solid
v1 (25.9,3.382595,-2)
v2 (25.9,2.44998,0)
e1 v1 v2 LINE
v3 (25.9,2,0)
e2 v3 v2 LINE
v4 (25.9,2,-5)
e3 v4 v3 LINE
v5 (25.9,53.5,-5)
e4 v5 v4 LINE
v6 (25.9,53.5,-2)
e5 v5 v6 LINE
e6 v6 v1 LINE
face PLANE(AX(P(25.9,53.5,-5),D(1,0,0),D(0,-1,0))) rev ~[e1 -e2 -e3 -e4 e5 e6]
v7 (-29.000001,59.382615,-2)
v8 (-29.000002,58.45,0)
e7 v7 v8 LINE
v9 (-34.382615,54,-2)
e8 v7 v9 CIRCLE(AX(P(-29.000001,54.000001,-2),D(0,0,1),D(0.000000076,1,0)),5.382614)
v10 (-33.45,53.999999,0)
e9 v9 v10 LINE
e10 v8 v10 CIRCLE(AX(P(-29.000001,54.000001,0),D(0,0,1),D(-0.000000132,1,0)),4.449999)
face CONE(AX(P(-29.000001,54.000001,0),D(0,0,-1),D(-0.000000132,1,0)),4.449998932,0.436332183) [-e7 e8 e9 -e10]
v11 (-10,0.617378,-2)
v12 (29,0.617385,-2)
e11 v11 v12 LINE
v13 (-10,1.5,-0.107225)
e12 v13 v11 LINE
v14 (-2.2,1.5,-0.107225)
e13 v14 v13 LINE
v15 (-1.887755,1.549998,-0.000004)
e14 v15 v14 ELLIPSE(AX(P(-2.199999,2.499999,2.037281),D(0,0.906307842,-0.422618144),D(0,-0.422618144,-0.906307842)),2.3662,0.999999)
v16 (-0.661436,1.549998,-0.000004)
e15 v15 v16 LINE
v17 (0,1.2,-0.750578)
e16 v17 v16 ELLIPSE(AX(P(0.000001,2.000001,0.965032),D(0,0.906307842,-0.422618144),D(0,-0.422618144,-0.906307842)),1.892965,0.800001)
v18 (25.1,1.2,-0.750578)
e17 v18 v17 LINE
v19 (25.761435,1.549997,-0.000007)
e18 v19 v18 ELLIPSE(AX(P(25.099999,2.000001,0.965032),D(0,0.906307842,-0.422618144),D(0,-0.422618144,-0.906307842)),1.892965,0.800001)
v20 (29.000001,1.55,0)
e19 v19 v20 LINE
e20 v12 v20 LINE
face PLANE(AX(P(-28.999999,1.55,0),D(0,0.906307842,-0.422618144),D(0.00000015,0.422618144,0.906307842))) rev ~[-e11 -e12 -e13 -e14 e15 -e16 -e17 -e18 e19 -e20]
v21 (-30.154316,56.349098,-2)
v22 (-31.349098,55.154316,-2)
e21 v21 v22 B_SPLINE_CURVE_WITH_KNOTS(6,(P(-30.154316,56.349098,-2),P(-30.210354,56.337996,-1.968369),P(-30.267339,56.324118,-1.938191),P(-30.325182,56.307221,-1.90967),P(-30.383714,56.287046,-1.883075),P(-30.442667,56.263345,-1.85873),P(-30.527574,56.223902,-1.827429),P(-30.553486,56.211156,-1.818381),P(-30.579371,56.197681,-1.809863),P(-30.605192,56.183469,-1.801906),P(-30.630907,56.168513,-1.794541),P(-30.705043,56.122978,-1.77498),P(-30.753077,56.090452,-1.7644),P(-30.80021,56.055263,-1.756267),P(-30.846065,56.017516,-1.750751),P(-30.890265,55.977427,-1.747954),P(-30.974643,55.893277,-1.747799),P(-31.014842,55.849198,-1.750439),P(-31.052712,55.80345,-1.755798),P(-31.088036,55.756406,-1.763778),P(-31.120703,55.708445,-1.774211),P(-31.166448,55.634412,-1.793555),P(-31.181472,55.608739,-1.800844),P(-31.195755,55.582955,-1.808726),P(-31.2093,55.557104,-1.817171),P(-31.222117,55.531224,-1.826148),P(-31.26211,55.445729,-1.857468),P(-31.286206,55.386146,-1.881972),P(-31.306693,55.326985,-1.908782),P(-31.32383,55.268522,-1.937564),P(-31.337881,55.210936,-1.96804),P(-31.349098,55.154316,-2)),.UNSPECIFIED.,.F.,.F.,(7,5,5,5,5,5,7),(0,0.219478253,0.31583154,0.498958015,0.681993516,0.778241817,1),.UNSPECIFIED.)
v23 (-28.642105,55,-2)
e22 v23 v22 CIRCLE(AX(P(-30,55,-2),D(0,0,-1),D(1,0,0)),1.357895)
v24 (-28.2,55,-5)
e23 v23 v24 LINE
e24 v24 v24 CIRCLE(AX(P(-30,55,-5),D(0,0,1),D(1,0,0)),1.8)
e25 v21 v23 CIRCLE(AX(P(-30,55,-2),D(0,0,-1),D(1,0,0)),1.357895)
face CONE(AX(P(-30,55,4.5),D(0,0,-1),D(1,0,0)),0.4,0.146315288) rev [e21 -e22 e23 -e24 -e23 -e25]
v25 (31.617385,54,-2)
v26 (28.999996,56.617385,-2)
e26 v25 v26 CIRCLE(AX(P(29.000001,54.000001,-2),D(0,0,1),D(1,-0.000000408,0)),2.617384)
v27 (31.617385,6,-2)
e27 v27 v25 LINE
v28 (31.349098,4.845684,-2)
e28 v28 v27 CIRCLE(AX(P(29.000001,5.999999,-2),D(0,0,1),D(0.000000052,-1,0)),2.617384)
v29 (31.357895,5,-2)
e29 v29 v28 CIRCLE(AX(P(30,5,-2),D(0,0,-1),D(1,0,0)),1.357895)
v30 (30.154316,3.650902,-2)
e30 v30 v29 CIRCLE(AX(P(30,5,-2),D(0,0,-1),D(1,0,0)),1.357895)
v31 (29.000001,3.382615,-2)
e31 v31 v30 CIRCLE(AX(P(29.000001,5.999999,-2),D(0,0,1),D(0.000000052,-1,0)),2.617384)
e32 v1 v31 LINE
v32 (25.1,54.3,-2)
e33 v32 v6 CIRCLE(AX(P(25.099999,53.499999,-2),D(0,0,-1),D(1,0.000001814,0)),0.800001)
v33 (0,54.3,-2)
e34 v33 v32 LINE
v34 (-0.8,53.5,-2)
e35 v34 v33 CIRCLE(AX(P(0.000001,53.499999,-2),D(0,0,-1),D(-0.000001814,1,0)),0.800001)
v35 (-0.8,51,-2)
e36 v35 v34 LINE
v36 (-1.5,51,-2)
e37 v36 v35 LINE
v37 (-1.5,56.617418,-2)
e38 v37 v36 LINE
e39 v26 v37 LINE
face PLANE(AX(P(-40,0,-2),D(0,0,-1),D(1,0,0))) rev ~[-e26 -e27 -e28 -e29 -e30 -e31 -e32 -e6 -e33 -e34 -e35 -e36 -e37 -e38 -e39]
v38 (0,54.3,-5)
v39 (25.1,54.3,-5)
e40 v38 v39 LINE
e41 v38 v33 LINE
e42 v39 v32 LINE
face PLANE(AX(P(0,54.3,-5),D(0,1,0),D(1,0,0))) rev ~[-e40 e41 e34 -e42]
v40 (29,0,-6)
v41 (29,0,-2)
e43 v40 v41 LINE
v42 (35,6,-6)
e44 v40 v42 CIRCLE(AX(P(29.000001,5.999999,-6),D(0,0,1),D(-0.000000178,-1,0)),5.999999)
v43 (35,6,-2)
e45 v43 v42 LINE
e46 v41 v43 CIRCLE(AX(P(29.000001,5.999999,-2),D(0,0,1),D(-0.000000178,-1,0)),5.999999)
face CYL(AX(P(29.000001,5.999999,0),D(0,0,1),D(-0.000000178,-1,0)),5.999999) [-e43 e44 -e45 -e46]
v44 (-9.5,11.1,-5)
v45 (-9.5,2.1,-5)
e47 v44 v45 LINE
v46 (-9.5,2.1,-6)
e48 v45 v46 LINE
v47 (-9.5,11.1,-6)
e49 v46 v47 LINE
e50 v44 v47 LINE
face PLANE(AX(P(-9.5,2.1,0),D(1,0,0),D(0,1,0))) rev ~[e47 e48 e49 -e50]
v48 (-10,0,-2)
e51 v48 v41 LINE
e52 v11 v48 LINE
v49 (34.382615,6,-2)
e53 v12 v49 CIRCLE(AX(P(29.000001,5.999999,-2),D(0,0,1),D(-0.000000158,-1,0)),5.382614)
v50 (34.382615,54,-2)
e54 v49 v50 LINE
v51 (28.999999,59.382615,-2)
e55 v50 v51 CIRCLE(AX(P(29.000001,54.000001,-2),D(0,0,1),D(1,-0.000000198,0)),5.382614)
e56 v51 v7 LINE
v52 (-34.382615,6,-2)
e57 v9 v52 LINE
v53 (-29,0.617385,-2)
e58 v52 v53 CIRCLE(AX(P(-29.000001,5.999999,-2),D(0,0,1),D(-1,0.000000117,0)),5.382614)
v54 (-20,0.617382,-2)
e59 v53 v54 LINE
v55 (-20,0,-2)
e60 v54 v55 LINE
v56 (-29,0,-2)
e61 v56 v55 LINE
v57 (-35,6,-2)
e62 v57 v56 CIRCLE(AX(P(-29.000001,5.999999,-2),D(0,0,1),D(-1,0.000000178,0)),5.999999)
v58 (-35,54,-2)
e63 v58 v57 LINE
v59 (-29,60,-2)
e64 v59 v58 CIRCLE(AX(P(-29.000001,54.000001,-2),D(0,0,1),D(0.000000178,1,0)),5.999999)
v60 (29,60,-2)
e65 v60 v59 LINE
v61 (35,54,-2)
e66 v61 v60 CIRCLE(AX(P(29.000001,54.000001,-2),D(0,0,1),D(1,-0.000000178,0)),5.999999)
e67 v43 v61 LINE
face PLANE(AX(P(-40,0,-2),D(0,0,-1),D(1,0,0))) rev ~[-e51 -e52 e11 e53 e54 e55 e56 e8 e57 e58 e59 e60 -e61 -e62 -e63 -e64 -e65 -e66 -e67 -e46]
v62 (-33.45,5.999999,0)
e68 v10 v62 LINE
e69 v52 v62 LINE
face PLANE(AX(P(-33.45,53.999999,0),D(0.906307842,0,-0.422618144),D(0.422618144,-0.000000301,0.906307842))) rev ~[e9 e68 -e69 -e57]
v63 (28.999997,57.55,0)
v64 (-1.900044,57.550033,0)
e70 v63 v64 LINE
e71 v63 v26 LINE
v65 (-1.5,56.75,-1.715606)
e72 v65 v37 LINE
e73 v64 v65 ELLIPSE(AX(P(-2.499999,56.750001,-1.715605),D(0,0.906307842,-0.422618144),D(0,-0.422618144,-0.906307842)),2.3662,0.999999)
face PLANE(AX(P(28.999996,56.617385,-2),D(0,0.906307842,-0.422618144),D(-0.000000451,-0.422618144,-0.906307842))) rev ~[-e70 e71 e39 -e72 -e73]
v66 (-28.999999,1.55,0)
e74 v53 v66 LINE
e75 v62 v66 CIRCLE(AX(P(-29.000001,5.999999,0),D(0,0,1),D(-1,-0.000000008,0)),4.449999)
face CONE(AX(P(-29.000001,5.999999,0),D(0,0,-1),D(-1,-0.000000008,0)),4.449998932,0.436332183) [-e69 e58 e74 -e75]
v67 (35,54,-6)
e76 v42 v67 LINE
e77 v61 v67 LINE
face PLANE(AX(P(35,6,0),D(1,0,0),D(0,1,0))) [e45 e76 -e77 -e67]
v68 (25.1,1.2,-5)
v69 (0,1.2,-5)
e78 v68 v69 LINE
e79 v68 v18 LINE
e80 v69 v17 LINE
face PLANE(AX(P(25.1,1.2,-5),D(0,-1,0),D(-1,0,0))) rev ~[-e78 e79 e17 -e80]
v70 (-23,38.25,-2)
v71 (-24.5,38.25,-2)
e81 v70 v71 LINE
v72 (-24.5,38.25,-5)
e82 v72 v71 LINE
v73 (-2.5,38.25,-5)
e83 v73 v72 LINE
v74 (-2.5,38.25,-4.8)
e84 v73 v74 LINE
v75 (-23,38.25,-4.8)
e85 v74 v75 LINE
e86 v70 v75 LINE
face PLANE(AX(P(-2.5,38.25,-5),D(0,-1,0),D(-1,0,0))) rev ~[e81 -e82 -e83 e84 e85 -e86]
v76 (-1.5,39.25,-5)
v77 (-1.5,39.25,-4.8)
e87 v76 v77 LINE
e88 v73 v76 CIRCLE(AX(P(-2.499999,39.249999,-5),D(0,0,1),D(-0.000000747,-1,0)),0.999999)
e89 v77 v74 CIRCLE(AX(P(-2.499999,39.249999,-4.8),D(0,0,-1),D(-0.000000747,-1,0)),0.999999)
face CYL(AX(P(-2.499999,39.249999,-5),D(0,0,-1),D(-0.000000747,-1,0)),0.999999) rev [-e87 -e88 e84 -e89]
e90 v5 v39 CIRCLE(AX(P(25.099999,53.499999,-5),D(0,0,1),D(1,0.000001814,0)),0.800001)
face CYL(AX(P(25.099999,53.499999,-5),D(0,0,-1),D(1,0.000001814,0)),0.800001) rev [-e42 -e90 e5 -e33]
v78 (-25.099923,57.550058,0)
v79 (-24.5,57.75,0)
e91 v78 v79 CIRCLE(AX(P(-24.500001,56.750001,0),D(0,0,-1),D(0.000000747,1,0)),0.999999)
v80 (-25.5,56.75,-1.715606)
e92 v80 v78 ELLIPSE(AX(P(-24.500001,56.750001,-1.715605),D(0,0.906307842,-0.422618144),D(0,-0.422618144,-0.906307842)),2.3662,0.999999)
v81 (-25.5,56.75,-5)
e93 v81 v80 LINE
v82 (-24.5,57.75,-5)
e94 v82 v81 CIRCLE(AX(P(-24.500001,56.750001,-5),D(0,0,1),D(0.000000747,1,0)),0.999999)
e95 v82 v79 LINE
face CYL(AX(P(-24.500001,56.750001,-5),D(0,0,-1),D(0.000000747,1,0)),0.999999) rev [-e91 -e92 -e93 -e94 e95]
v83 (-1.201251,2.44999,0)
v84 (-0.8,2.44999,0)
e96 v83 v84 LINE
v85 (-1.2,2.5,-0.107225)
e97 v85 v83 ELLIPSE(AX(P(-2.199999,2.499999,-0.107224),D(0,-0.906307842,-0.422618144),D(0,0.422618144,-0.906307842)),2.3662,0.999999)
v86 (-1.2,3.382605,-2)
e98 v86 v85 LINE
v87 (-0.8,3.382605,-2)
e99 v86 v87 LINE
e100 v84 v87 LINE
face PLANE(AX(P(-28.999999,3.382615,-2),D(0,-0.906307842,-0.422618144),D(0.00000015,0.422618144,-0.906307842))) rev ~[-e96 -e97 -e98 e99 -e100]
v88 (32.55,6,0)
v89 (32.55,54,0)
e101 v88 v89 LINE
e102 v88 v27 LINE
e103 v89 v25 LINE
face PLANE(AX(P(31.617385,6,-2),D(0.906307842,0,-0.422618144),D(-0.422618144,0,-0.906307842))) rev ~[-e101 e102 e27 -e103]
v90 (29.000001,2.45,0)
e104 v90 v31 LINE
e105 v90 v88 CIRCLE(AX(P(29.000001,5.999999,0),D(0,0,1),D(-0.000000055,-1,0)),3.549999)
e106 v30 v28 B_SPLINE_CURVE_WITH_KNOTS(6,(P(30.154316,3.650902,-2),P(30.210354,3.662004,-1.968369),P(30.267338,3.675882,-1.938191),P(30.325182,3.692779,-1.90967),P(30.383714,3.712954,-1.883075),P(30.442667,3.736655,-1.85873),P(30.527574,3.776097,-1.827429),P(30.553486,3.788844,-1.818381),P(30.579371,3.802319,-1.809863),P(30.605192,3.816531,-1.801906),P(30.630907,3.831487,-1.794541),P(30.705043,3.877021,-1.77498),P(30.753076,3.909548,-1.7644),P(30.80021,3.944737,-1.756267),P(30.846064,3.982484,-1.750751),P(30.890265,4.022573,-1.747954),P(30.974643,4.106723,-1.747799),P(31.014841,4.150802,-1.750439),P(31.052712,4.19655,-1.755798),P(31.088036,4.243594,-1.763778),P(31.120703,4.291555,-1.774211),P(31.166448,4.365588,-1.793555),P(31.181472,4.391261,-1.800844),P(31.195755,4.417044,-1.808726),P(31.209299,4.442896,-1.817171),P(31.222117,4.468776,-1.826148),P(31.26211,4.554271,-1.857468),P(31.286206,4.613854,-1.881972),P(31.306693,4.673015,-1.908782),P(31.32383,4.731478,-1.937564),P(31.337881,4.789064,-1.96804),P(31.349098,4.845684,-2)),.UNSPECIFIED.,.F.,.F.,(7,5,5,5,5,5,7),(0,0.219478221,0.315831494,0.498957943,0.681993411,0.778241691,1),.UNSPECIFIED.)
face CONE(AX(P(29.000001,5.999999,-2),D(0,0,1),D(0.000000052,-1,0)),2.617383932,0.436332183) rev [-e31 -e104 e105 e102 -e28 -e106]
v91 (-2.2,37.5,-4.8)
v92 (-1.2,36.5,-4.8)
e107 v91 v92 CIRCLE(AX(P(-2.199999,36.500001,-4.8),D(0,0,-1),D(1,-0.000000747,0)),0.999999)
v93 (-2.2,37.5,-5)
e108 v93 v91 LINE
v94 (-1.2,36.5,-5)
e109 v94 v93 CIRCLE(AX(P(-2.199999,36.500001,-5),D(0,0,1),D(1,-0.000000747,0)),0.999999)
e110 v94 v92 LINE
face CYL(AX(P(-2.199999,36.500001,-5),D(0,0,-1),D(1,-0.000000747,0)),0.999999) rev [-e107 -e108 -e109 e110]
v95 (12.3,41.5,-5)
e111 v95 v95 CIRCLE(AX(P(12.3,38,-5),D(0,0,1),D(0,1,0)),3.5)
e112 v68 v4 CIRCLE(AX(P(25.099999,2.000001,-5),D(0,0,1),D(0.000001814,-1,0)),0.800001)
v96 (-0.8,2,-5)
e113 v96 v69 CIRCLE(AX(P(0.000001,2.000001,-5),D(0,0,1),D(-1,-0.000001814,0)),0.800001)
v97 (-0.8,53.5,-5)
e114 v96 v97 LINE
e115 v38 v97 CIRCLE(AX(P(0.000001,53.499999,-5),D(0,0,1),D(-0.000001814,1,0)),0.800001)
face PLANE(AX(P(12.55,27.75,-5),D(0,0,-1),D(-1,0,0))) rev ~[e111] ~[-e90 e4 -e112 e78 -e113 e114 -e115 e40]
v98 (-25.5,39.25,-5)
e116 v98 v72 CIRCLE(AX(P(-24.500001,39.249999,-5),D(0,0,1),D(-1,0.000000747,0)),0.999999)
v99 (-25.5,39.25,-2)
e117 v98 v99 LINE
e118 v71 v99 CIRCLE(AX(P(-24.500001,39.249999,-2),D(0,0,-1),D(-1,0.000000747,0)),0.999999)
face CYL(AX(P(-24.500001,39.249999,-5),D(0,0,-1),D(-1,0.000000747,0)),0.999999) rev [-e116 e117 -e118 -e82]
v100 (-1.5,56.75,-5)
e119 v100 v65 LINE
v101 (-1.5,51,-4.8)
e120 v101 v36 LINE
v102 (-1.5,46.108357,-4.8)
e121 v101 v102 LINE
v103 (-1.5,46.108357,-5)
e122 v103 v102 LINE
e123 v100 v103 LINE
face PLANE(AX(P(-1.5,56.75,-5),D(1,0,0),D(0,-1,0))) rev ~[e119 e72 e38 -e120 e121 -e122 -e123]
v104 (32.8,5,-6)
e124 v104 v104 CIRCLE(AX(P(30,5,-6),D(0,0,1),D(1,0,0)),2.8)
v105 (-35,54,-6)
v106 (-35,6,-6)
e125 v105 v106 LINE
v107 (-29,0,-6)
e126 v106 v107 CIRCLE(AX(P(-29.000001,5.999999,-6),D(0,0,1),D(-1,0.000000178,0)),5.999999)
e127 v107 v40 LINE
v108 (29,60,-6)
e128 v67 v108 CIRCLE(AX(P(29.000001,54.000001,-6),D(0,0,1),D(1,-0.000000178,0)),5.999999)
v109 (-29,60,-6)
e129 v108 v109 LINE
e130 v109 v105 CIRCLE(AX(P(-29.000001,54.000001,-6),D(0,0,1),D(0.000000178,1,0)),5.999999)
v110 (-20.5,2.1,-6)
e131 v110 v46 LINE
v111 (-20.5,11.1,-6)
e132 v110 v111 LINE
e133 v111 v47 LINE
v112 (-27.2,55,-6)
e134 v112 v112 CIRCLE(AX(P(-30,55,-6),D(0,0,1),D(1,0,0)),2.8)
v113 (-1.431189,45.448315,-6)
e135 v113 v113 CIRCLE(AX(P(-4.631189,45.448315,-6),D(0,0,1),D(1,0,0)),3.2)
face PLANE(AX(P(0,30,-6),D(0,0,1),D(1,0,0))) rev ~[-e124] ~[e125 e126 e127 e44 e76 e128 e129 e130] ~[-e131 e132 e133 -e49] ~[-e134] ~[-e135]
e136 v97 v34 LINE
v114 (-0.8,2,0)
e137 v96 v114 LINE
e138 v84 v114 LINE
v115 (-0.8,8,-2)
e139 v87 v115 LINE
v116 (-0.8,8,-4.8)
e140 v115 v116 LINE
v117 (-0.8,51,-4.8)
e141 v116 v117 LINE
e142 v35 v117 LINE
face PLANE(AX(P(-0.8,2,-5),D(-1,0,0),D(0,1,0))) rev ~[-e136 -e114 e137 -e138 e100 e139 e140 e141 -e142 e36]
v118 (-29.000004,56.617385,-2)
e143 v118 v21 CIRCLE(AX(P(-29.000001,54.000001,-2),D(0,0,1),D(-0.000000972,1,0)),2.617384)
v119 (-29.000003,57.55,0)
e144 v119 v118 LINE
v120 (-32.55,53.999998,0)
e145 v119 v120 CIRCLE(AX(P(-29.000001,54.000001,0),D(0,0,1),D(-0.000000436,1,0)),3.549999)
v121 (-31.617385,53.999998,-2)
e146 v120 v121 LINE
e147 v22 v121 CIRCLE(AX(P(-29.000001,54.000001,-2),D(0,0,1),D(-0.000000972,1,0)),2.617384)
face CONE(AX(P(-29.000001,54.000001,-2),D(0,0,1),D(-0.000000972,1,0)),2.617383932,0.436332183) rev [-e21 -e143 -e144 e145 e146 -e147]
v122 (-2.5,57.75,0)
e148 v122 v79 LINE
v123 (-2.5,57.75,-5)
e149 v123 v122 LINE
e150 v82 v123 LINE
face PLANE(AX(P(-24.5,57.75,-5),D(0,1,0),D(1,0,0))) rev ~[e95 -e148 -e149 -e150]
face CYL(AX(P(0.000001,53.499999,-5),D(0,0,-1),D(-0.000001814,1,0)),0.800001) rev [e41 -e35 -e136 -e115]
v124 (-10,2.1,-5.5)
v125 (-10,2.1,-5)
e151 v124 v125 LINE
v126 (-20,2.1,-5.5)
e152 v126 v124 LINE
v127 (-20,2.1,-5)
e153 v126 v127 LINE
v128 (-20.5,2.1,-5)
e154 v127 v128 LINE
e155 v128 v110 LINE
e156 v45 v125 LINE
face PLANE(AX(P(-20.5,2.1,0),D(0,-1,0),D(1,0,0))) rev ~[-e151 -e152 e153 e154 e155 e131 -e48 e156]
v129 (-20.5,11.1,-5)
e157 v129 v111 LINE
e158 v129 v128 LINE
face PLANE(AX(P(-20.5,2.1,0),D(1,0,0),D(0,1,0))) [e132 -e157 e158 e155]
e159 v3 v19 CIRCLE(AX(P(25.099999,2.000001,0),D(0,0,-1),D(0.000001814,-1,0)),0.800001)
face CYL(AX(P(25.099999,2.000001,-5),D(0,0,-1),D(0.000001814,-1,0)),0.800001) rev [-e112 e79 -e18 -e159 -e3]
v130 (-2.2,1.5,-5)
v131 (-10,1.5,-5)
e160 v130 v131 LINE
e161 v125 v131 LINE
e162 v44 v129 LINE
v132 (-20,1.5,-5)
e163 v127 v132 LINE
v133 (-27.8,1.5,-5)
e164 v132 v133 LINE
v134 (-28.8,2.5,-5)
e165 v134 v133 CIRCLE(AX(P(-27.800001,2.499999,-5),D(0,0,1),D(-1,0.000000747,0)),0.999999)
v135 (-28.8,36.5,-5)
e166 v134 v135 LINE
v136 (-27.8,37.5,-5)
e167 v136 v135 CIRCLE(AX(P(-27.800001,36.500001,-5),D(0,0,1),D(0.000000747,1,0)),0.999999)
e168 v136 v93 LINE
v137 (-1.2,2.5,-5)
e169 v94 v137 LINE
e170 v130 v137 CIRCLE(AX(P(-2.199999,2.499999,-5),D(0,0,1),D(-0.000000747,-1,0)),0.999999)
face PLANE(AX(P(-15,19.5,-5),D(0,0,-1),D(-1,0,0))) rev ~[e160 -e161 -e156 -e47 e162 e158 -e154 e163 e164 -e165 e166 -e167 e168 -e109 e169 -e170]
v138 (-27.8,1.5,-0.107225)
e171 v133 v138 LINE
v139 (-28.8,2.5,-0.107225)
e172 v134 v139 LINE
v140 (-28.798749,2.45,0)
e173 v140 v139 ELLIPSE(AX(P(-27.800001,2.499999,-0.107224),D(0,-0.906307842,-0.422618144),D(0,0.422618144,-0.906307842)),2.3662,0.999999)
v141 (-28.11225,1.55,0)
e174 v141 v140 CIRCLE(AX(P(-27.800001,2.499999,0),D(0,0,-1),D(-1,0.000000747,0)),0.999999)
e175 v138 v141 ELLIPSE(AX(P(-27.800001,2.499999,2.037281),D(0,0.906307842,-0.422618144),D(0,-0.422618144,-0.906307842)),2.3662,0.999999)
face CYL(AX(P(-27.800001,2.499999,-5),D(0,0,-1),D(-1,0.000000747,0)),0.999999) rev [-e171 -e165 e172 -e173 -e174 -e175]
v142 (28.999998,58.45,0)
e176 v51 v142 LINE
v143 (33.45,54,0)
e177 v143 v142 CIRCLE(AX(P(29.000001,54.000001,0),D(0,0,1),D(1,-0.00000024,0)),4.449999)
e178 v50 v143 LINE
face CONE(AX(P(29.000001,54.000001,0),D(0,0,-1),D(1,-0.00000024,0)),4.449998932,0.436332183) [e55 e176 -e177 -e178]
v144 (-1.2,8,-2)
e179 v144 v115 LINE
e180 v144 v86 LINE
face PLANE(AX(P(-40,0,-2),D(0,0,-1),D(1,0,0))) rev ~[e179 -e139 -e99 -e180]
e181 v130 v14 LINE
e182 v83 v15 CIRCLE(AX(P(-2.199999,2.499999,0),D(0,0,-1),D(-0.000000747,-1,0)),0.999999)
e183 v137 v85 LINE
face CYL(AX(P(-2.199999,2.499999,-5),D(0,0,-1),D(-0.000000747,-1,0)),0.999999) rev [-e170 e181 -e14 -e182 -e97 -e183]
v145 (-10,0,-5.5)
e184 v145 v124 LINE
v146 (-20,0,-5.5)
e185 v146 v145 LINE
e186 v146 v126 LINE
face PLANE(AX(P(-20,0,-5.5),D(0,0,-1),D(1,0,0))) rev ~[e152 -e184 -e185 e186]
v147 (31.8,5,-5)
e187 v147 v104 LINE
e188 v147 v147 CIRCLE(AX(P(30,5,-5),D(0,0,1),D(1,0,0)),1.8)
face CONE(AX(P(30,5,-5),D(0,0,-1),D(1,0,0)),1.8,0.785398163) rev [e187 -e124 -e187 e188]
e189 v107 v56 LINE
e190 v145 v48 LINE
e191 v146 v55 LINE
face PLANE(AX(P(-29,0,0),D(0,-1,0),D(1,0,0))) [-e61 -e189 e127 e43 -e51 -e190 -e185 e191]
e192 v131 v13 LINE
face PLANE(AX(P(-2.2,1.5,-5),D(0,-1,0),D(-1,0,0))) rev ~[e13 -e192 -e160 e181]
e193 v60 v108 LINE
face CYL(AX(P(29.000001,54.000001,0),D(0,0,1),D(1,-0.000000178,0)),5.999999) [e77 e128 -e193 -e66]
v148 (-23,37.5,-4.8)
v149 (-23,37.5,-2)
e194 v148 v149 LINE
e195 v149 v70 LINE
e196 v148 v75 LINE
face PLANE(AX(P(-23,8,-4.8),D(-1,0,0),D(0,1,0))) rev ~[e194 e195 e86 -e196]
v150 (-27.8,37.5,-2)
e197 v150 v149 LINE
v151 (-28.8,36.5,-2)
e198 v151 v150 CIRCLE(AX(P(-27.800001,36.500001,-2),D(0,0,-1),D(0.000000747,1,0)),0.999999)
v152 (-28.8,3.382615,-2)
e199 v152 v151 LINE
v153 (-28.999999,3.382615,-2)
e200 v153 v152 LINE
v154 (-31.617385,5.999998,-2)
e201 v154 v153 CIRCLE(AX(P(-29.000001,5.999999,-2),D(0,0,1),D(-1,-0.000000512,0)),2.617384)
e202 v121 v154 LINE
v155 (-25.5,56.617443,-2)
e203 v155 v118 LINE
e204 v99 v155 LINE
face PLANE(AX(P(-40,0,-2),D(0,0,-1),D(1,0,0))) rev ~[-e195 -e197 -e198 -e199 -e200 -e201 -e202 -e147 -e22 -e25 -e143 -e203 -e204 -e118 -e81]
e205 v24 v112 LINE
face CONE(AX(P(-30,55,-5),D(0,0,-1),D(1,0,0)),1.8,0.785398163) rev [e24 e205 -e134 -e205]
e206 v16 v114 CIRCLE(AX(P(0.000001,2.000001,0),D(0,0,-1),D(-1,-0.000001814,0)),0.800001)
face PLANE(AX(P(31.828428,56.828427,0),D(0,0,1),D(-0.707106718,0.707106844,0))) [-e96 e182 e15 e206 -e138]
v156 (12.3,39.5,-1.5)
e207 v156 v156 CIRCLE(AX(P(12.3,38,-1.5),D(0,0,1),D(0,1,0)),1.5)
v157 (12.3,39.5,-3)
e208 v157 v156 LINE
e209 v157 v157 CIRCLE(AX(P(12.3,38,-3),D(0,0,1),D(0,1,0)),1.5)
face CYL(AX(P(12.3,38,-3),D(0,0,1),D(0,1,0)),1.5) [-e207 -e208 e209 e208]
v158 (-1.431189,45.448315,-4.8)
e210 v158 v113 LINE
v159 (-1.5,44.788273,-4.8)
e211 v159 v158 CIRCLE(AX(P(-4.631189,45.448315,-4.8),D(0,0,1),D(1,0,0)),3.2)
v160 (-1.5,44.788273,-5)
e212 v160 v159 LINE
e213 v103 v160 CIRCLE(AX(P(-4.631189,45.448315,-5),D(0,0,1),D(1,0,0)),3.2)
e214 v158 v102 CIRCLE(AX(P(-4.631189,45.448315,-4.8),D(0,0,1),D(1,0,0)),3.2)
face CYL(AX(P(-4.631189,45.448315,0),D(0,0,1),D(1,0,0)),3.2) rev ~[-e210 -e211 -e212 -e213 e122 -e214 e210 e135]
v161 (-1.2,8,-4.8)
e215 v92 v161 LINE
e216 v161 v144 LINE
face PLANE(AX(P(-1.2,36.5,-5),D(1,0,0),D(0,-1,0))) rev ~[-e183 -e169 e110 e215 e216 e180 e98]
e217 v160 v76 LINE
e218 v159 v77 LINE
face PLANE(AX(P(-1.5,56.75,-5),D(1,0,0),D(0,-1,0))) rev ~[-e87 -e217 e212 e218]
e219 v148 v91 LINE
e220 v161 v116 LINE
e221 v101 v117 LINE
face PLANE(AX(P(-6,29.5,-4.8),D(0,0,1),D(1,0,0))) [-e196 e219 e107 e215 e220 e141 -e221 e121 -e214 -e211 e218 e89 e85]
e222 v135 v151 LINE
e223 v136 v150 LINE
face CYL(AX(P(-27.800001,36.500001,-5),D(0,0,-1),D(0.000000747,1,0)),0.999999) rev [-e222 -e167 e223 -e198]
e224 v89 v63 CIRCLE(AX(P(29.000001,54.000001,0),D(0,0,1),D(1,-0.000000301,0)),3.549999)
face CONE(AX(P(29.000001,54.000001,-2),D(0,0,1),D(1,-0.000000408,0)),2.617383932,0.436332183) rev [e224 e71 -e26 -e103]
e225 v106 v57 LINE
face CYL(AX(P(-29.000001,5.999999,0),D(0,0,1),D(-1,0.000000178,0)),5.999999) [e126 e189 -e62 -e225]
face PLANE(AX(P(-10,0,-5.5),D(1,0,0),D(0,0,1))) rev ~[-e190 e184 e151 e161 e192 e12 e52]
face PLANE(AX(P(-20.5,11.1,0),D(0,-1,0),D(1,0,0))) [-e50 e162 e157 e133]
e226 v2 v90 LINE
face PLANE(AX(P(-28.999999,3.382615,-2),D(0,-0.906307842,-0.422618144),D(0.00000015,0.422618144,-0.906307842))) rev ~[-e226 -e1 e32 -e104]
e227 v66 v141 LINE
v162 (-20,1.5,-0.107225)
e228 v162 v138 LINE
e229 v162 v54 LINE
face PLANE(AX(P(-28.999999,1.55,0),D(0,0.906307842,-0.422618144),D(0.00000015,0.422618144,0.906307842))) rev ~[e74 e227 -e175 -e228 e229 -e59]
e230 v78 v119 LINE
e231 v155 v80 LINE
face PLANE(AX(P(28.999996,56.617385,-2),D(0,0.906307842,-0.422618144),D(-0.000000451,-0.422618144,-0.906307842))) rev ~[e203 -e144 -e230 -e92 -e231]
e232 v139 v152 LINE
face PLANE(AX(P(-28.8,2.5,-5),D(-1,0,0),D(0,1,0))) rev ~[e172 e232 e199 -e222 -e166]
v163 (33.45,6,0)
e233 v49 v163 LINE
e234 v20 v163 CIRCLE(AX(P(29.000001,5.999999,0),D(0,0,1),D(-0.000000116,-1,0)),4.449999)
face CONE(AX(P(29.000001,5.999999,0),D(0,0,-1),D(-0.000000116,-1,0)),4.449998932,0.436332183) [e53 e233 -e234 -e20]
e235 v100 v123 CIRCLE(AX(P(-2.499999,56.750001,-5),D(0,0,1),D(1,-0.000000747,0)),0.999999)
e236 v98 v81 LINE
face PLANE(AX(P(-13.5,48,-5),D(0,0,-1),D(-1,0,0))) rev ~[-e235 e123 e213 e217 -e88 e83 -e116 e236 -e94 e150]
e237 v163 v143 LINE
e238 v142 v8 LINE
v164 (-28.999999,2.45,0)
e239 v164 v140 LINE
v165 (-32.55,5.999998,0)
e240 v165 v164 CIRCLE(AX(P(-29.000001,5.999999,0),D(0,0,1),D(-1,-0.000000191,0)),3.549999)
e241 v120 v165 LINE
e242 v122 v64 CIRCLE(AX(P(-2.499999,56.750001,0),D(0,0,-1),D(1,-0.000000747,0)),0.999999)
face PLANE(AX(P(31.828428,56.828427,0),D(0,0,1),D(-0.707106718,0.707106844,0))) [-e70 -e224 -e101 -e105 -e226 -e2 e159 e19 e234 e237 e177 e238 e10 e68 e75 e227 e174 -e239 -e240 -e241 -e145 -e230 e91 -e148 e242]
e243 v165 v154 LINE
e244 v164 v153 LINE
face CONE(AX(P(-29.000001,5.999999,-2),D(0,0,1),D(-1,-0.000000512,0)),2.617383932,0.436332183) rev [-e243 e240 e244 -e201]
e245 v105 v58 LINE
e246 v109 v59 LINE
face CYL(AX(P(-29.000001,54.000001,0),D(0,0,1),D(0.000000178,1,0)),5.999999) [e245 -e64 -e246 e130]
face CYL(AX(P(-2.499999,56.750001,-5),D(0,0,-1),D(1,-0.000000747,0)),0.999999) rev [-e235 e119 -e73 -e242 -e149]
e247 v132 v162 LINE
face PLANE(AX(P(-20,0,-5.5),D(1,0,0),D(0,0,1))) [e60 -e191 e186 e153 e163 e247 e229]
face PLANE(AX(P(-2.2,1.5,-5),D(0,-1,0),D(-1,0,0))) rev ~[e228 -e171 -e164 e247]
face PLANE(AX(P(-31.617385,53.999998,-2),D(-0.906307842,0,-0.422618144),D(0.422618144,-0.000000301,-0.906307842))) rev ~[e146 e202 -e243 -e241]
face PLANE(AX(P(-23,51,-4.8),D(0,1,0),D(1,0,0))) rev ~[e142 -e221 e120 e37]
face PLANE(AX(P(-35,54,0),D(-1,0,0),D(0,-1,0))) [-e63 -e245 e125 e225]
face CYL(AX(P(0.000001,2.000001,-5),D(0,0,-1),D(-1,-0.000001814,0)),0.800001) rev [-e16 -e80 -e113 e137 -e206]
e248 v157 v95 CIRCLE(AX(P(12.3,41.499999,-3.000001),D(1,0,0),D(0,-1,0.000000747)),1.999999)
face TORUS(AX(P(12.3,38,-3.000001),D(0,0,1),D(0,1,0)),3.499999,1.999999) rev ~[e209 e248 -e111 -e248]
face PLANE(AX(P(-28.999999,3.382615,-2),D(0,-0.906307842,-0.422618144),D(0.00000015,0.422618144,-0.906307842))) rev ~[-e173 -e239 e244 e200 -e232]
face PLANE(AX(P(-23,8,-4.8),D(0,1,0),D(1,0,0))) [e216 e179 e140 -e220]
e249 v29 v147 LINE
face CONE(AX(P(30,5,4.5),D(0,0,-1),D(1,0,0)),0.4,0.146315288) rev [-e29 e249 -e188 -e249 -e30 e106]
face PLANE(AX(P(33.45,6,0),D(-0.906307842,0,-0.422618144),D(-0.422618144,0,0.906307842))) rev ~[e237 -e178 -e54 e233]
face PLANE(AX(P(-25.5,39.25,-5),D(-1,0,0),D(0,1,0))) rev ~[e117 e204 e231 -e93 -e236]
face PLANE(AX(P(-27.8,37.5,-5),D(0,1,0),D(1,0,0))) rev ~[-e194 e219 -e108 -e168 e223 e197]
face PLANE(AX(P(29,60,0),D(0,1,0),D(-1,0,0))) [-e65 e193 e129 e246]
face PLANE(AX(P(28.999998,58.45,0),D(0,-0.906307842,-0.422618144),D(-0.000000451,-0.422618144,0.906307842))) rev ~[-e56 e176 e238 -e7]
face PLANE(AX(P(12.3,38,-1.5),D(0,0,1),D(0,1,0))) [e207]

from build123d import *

# Parameters (mm, degrees)
PAD015_DEPTH         = 6
SKETCH035_W          = 80
SKETCH035_H          = 14
POCKET011_DEPTH      = 60.001
POCKET011_DEPTH_BACK = 0.001
POCKET020_DEPTH      = 5.001
POCKET021_DEPTH      = 5.001
POCKET022_DEPTH      = 5.001
SKETCH054_W          = 34
SKETCH054_H          = 43
POCKET023_DEPTH      = 4.801
SKETCH055_R          = 3.2
POCKET024_DEPTH      = 6.001
SKETCH056_W          = 11
SKETCH056_H          = 9
POCKET025_DEPTH      = 6.001
SKETCH057_W          = 10
SKETCH057_H          = 8
POCKET026_DEPTH      = 5


with BuildPart() as part:
    # Sketch033 → Pad015 (new body, symmetric)
    with BuildSketch(Plane.XY):
        with BuildLine():
            Line((29, 60), (-29, 60))
            ThreePointArc((-29, 60), (-33.242641, 58.242641), (-35, 54))
            Line((-35, 54), (-35, 6))
            ThreePointArc((-35, 6), (-33.242641, 1.757359), (-29, 0))
            Line((-29, 0), (29, 0))
            ThreePointArc((29, 0), (33.242641, 1.757359), (35, 6))
            Line((35, 6), (35, 54))
            ThreePointArc((35, 54), (33.242641, 58.242641), (29, 60))
        make_face()
    extrude(amount=PAD015_DEPTH, both=True)

    # Sketch035 → Pocket011 (cut, two sides)
    with BuildSketch(Plane.XZ) as pocket011_sk:
        with Locations((0, 5)):
            Rectangle(SKETCH035_W, SKETCH035_H)
    extrude(amount=-POCKET011_DEPTH, mode=Mode.SUBTRACT)
    extrude(pocket011_sk.sketch, amount=POCKET011_DEPTH_BACK, mode=Mode.SUBTRACT)

    # AdditivePipe: sweep along a path in Sketch033
    with BuildLine(Plane.XY) as additivepipe_path:
        Line((29, 60), (-29, 60))
        ThreePointArc((-29, 60), (-33.242641, 58.242641), (-35, 54))
        Line((-35, 54), (-35, 6))
        ThreePointArc((-35, 6), (-33.242641, 1.757359), (-29, 0))
        Line((-29, 0), (29, 0))
        ThreePointArc((29, 0), (33.242641, 1.757359), (35, 6))
        Line((35, 6), (35, 54))
        ThreePointArc((35, 54), (33.242641, 58.242641), (29, 60))
    # Sketch058 → AdditivePipe (sweep)
    with BuildSketch(Plane.XZ.offset(-30)):
        Polygon((34.382615, -2), (31.617385, -2), (32.55, 0), (33.45, 0), align=None)
    sweep(path=additivepipe_path.line)

    # Sketch050 → Pocket020 (cut, through all)
    with BuildSketch(Plane.XY.offset(-5)):
        with BuildLine():
            Line((0, 54.3), (25.1, 54.3))
            ThreePointArc((25.9, 53.5), (25.665685, 54.065685), (25.1, 54.3))
            Line((25.9, 53.5), (25.9, 2))
            ThreePointArc((25.1, 1.2), (25.665685, 1.434315), (25.9, 2))
            Line((25.1, 1.2), (0, 1.2))
            ThreePointArc((-0.8, 2), (-0.565685, 1.434315), (0, 1.2))
            Line((-0.8, 2), (-0.8, 53.5))
            ThreePointArc((0, 54.3), (-0.565685, 54.065685), (-0.8, 53.5))
        make_face()
    extrude(amount=POCKET020_DEPTH, mode=Mode.SUBTRACT)

    # Sketch052 → Pocket021 (cut, through all)
    with BuildSketch(Plane(origin=(0, -6, -5), x_dir=(1, 0, 0), z_dir=(0, 0, 1))):
        with BuildLine():
            Line((-27.8, 43.5), (-2.2, 43.5))
            ThreePointArc((-1.2, 42.5), (-1.492893, 43.207107), (-2.2, 43.5))
            Line((-1.2, 42.5), (-1.2, 8.5))
            ThreePointArc((-2.2, 7.5), (-1.492893, 7.792893), (-1.2, 8.5))
            Line((-2.2, 7.5), (-27.8, 7.5))
            ThreePointArc((-28.8, 8.5), (-28.507107, 7.792893), (-27.8, 7.5))
            Line((-28.8, 8.5), (-28.8, 42.5))
            ThreePointArc((-27.8, 43.5), (-28.507107, 43.207107), (-28.8, 42.5))
        make_face()
    extrude(amount=POCKET021_DEPTH, mode=Mode.SUBTRACT)

    # Sketch051 → Pocket022 (cut, through all)
    with BuildSketch(Plane(origin=(0, -6, -5), x_dir=(1, 0, 0), z_dir=(0, 0, 1))):
        with BuildLine():
            Line((-24.5, 63.75), (-2.5, 63.75))
            ThreePointArc((-1.5, 62.75), (-1.792893, 63.457107), (-2.5, 63.75))
            Line((-1.5, 62.75), (-1.5, 45.25))
            ThreePointArc((-2.5, 44.25), (-1.792893, 44.542893), (-1.5, 45.25))
            Line((-2.5, 44.25), (-24.5, 44.25))
            ThreePointArc((-25.5, 45.25), (-25.207107, 44.542893), (-24.5, 44.25))
            Line((-25.5, 45.25), (-25.5, 62.75))
            ThreePointArc((-24.5, 63.75), (-25.207107, 63.457107), (-25.5, 62.75))
        make_face()
    extrude(amount=POCKET022_DEPTH, mode=Mode.SUBTRACT)

    # Sketch047 → Groove002 (revolve, cut)
    with BuildSketch(Plane.XZ.offset(-55)):
        Polygon((-30, 4.5), (-29.6, 4.5), (-28.2, -5), (-27.2, -6), (-30, -6), align=None)
    revolve(axis=Axis((-30, 55, 4.5), (0, 0, 1)), mode=Mode.SUBTRACT)

    # Sketch046 → Groove003 (revolve, cut)
    with BuildSketch(Plane.XZ.offset(-5)):
        Polygon((30, 4.5), (30.4, 4.5), (31.8, -5), (32.8, -6), (30, -6), align=None)
    revolve(axis=Axis((30, 5, 4.5), (0, 0, 1)), mode=Mode.SUBTRACT)

    # Sketch054 → Pocket023 (cut, through all)
    with BuildSketch(Plane.XY.offset(-4.8)):
        with Locations((-6, 29.5)):
            Rectangle(SKETCH054_W, SKETCH054_H)
    extrude(amount=POCKET023_DEPTH, mode=Mode.SUBTRACT)

    # Sketch055 → Pocket024 (cut, through all)
    with BuildSketch(Plane.XY):
        with Locations((-4.631189, 45.448315)):
            Circle(SKETCH055_R)
    extrude(amount=-POCKET024_DEPTH, mode=Mode.SUBTRACT)

    # Sketch056 → Pocket025 (cut, through all)
    with BuildSketch(Plane.XY):
        with Locations((-15, 6.6)):
            Rectangle(SKETCH056_W, SKETCH056_H)
    extrude(amount=-POCKET025_DEPTH, mode=Mode.SUBTRACT)

    # Sketch057 → Pocket026 (cut)
    with BuildSketch(Plane.XZ):
        with Locations((-15, -1.5)):
            Rectangle(SKETCH057_W, SKETCH057_H)
    extrude(amount=-POCKET026_DEPTH, mode=Mode.SUBTRACT)

    # Sketch053 → Revolution002 (revolve)
    with BuildSketch(Plane.YZ.offset(12.3)):
        with BuildLine():
            Line((38, -1.5), (38, -5))
            Line((38, -5), (41.5, -5))
            ThreePointArc((39.5, -3), (40.085786, -4.414214), (41.5, -5))
            Line((39.5, -3), (39.5, -1.5))
            Line((39.5, -1.5), (38, -1.5))
        make_face()
    revolve(axis=Axis((12.3, 38, -1.5), (0, 0, 1)))


solid = part.part
